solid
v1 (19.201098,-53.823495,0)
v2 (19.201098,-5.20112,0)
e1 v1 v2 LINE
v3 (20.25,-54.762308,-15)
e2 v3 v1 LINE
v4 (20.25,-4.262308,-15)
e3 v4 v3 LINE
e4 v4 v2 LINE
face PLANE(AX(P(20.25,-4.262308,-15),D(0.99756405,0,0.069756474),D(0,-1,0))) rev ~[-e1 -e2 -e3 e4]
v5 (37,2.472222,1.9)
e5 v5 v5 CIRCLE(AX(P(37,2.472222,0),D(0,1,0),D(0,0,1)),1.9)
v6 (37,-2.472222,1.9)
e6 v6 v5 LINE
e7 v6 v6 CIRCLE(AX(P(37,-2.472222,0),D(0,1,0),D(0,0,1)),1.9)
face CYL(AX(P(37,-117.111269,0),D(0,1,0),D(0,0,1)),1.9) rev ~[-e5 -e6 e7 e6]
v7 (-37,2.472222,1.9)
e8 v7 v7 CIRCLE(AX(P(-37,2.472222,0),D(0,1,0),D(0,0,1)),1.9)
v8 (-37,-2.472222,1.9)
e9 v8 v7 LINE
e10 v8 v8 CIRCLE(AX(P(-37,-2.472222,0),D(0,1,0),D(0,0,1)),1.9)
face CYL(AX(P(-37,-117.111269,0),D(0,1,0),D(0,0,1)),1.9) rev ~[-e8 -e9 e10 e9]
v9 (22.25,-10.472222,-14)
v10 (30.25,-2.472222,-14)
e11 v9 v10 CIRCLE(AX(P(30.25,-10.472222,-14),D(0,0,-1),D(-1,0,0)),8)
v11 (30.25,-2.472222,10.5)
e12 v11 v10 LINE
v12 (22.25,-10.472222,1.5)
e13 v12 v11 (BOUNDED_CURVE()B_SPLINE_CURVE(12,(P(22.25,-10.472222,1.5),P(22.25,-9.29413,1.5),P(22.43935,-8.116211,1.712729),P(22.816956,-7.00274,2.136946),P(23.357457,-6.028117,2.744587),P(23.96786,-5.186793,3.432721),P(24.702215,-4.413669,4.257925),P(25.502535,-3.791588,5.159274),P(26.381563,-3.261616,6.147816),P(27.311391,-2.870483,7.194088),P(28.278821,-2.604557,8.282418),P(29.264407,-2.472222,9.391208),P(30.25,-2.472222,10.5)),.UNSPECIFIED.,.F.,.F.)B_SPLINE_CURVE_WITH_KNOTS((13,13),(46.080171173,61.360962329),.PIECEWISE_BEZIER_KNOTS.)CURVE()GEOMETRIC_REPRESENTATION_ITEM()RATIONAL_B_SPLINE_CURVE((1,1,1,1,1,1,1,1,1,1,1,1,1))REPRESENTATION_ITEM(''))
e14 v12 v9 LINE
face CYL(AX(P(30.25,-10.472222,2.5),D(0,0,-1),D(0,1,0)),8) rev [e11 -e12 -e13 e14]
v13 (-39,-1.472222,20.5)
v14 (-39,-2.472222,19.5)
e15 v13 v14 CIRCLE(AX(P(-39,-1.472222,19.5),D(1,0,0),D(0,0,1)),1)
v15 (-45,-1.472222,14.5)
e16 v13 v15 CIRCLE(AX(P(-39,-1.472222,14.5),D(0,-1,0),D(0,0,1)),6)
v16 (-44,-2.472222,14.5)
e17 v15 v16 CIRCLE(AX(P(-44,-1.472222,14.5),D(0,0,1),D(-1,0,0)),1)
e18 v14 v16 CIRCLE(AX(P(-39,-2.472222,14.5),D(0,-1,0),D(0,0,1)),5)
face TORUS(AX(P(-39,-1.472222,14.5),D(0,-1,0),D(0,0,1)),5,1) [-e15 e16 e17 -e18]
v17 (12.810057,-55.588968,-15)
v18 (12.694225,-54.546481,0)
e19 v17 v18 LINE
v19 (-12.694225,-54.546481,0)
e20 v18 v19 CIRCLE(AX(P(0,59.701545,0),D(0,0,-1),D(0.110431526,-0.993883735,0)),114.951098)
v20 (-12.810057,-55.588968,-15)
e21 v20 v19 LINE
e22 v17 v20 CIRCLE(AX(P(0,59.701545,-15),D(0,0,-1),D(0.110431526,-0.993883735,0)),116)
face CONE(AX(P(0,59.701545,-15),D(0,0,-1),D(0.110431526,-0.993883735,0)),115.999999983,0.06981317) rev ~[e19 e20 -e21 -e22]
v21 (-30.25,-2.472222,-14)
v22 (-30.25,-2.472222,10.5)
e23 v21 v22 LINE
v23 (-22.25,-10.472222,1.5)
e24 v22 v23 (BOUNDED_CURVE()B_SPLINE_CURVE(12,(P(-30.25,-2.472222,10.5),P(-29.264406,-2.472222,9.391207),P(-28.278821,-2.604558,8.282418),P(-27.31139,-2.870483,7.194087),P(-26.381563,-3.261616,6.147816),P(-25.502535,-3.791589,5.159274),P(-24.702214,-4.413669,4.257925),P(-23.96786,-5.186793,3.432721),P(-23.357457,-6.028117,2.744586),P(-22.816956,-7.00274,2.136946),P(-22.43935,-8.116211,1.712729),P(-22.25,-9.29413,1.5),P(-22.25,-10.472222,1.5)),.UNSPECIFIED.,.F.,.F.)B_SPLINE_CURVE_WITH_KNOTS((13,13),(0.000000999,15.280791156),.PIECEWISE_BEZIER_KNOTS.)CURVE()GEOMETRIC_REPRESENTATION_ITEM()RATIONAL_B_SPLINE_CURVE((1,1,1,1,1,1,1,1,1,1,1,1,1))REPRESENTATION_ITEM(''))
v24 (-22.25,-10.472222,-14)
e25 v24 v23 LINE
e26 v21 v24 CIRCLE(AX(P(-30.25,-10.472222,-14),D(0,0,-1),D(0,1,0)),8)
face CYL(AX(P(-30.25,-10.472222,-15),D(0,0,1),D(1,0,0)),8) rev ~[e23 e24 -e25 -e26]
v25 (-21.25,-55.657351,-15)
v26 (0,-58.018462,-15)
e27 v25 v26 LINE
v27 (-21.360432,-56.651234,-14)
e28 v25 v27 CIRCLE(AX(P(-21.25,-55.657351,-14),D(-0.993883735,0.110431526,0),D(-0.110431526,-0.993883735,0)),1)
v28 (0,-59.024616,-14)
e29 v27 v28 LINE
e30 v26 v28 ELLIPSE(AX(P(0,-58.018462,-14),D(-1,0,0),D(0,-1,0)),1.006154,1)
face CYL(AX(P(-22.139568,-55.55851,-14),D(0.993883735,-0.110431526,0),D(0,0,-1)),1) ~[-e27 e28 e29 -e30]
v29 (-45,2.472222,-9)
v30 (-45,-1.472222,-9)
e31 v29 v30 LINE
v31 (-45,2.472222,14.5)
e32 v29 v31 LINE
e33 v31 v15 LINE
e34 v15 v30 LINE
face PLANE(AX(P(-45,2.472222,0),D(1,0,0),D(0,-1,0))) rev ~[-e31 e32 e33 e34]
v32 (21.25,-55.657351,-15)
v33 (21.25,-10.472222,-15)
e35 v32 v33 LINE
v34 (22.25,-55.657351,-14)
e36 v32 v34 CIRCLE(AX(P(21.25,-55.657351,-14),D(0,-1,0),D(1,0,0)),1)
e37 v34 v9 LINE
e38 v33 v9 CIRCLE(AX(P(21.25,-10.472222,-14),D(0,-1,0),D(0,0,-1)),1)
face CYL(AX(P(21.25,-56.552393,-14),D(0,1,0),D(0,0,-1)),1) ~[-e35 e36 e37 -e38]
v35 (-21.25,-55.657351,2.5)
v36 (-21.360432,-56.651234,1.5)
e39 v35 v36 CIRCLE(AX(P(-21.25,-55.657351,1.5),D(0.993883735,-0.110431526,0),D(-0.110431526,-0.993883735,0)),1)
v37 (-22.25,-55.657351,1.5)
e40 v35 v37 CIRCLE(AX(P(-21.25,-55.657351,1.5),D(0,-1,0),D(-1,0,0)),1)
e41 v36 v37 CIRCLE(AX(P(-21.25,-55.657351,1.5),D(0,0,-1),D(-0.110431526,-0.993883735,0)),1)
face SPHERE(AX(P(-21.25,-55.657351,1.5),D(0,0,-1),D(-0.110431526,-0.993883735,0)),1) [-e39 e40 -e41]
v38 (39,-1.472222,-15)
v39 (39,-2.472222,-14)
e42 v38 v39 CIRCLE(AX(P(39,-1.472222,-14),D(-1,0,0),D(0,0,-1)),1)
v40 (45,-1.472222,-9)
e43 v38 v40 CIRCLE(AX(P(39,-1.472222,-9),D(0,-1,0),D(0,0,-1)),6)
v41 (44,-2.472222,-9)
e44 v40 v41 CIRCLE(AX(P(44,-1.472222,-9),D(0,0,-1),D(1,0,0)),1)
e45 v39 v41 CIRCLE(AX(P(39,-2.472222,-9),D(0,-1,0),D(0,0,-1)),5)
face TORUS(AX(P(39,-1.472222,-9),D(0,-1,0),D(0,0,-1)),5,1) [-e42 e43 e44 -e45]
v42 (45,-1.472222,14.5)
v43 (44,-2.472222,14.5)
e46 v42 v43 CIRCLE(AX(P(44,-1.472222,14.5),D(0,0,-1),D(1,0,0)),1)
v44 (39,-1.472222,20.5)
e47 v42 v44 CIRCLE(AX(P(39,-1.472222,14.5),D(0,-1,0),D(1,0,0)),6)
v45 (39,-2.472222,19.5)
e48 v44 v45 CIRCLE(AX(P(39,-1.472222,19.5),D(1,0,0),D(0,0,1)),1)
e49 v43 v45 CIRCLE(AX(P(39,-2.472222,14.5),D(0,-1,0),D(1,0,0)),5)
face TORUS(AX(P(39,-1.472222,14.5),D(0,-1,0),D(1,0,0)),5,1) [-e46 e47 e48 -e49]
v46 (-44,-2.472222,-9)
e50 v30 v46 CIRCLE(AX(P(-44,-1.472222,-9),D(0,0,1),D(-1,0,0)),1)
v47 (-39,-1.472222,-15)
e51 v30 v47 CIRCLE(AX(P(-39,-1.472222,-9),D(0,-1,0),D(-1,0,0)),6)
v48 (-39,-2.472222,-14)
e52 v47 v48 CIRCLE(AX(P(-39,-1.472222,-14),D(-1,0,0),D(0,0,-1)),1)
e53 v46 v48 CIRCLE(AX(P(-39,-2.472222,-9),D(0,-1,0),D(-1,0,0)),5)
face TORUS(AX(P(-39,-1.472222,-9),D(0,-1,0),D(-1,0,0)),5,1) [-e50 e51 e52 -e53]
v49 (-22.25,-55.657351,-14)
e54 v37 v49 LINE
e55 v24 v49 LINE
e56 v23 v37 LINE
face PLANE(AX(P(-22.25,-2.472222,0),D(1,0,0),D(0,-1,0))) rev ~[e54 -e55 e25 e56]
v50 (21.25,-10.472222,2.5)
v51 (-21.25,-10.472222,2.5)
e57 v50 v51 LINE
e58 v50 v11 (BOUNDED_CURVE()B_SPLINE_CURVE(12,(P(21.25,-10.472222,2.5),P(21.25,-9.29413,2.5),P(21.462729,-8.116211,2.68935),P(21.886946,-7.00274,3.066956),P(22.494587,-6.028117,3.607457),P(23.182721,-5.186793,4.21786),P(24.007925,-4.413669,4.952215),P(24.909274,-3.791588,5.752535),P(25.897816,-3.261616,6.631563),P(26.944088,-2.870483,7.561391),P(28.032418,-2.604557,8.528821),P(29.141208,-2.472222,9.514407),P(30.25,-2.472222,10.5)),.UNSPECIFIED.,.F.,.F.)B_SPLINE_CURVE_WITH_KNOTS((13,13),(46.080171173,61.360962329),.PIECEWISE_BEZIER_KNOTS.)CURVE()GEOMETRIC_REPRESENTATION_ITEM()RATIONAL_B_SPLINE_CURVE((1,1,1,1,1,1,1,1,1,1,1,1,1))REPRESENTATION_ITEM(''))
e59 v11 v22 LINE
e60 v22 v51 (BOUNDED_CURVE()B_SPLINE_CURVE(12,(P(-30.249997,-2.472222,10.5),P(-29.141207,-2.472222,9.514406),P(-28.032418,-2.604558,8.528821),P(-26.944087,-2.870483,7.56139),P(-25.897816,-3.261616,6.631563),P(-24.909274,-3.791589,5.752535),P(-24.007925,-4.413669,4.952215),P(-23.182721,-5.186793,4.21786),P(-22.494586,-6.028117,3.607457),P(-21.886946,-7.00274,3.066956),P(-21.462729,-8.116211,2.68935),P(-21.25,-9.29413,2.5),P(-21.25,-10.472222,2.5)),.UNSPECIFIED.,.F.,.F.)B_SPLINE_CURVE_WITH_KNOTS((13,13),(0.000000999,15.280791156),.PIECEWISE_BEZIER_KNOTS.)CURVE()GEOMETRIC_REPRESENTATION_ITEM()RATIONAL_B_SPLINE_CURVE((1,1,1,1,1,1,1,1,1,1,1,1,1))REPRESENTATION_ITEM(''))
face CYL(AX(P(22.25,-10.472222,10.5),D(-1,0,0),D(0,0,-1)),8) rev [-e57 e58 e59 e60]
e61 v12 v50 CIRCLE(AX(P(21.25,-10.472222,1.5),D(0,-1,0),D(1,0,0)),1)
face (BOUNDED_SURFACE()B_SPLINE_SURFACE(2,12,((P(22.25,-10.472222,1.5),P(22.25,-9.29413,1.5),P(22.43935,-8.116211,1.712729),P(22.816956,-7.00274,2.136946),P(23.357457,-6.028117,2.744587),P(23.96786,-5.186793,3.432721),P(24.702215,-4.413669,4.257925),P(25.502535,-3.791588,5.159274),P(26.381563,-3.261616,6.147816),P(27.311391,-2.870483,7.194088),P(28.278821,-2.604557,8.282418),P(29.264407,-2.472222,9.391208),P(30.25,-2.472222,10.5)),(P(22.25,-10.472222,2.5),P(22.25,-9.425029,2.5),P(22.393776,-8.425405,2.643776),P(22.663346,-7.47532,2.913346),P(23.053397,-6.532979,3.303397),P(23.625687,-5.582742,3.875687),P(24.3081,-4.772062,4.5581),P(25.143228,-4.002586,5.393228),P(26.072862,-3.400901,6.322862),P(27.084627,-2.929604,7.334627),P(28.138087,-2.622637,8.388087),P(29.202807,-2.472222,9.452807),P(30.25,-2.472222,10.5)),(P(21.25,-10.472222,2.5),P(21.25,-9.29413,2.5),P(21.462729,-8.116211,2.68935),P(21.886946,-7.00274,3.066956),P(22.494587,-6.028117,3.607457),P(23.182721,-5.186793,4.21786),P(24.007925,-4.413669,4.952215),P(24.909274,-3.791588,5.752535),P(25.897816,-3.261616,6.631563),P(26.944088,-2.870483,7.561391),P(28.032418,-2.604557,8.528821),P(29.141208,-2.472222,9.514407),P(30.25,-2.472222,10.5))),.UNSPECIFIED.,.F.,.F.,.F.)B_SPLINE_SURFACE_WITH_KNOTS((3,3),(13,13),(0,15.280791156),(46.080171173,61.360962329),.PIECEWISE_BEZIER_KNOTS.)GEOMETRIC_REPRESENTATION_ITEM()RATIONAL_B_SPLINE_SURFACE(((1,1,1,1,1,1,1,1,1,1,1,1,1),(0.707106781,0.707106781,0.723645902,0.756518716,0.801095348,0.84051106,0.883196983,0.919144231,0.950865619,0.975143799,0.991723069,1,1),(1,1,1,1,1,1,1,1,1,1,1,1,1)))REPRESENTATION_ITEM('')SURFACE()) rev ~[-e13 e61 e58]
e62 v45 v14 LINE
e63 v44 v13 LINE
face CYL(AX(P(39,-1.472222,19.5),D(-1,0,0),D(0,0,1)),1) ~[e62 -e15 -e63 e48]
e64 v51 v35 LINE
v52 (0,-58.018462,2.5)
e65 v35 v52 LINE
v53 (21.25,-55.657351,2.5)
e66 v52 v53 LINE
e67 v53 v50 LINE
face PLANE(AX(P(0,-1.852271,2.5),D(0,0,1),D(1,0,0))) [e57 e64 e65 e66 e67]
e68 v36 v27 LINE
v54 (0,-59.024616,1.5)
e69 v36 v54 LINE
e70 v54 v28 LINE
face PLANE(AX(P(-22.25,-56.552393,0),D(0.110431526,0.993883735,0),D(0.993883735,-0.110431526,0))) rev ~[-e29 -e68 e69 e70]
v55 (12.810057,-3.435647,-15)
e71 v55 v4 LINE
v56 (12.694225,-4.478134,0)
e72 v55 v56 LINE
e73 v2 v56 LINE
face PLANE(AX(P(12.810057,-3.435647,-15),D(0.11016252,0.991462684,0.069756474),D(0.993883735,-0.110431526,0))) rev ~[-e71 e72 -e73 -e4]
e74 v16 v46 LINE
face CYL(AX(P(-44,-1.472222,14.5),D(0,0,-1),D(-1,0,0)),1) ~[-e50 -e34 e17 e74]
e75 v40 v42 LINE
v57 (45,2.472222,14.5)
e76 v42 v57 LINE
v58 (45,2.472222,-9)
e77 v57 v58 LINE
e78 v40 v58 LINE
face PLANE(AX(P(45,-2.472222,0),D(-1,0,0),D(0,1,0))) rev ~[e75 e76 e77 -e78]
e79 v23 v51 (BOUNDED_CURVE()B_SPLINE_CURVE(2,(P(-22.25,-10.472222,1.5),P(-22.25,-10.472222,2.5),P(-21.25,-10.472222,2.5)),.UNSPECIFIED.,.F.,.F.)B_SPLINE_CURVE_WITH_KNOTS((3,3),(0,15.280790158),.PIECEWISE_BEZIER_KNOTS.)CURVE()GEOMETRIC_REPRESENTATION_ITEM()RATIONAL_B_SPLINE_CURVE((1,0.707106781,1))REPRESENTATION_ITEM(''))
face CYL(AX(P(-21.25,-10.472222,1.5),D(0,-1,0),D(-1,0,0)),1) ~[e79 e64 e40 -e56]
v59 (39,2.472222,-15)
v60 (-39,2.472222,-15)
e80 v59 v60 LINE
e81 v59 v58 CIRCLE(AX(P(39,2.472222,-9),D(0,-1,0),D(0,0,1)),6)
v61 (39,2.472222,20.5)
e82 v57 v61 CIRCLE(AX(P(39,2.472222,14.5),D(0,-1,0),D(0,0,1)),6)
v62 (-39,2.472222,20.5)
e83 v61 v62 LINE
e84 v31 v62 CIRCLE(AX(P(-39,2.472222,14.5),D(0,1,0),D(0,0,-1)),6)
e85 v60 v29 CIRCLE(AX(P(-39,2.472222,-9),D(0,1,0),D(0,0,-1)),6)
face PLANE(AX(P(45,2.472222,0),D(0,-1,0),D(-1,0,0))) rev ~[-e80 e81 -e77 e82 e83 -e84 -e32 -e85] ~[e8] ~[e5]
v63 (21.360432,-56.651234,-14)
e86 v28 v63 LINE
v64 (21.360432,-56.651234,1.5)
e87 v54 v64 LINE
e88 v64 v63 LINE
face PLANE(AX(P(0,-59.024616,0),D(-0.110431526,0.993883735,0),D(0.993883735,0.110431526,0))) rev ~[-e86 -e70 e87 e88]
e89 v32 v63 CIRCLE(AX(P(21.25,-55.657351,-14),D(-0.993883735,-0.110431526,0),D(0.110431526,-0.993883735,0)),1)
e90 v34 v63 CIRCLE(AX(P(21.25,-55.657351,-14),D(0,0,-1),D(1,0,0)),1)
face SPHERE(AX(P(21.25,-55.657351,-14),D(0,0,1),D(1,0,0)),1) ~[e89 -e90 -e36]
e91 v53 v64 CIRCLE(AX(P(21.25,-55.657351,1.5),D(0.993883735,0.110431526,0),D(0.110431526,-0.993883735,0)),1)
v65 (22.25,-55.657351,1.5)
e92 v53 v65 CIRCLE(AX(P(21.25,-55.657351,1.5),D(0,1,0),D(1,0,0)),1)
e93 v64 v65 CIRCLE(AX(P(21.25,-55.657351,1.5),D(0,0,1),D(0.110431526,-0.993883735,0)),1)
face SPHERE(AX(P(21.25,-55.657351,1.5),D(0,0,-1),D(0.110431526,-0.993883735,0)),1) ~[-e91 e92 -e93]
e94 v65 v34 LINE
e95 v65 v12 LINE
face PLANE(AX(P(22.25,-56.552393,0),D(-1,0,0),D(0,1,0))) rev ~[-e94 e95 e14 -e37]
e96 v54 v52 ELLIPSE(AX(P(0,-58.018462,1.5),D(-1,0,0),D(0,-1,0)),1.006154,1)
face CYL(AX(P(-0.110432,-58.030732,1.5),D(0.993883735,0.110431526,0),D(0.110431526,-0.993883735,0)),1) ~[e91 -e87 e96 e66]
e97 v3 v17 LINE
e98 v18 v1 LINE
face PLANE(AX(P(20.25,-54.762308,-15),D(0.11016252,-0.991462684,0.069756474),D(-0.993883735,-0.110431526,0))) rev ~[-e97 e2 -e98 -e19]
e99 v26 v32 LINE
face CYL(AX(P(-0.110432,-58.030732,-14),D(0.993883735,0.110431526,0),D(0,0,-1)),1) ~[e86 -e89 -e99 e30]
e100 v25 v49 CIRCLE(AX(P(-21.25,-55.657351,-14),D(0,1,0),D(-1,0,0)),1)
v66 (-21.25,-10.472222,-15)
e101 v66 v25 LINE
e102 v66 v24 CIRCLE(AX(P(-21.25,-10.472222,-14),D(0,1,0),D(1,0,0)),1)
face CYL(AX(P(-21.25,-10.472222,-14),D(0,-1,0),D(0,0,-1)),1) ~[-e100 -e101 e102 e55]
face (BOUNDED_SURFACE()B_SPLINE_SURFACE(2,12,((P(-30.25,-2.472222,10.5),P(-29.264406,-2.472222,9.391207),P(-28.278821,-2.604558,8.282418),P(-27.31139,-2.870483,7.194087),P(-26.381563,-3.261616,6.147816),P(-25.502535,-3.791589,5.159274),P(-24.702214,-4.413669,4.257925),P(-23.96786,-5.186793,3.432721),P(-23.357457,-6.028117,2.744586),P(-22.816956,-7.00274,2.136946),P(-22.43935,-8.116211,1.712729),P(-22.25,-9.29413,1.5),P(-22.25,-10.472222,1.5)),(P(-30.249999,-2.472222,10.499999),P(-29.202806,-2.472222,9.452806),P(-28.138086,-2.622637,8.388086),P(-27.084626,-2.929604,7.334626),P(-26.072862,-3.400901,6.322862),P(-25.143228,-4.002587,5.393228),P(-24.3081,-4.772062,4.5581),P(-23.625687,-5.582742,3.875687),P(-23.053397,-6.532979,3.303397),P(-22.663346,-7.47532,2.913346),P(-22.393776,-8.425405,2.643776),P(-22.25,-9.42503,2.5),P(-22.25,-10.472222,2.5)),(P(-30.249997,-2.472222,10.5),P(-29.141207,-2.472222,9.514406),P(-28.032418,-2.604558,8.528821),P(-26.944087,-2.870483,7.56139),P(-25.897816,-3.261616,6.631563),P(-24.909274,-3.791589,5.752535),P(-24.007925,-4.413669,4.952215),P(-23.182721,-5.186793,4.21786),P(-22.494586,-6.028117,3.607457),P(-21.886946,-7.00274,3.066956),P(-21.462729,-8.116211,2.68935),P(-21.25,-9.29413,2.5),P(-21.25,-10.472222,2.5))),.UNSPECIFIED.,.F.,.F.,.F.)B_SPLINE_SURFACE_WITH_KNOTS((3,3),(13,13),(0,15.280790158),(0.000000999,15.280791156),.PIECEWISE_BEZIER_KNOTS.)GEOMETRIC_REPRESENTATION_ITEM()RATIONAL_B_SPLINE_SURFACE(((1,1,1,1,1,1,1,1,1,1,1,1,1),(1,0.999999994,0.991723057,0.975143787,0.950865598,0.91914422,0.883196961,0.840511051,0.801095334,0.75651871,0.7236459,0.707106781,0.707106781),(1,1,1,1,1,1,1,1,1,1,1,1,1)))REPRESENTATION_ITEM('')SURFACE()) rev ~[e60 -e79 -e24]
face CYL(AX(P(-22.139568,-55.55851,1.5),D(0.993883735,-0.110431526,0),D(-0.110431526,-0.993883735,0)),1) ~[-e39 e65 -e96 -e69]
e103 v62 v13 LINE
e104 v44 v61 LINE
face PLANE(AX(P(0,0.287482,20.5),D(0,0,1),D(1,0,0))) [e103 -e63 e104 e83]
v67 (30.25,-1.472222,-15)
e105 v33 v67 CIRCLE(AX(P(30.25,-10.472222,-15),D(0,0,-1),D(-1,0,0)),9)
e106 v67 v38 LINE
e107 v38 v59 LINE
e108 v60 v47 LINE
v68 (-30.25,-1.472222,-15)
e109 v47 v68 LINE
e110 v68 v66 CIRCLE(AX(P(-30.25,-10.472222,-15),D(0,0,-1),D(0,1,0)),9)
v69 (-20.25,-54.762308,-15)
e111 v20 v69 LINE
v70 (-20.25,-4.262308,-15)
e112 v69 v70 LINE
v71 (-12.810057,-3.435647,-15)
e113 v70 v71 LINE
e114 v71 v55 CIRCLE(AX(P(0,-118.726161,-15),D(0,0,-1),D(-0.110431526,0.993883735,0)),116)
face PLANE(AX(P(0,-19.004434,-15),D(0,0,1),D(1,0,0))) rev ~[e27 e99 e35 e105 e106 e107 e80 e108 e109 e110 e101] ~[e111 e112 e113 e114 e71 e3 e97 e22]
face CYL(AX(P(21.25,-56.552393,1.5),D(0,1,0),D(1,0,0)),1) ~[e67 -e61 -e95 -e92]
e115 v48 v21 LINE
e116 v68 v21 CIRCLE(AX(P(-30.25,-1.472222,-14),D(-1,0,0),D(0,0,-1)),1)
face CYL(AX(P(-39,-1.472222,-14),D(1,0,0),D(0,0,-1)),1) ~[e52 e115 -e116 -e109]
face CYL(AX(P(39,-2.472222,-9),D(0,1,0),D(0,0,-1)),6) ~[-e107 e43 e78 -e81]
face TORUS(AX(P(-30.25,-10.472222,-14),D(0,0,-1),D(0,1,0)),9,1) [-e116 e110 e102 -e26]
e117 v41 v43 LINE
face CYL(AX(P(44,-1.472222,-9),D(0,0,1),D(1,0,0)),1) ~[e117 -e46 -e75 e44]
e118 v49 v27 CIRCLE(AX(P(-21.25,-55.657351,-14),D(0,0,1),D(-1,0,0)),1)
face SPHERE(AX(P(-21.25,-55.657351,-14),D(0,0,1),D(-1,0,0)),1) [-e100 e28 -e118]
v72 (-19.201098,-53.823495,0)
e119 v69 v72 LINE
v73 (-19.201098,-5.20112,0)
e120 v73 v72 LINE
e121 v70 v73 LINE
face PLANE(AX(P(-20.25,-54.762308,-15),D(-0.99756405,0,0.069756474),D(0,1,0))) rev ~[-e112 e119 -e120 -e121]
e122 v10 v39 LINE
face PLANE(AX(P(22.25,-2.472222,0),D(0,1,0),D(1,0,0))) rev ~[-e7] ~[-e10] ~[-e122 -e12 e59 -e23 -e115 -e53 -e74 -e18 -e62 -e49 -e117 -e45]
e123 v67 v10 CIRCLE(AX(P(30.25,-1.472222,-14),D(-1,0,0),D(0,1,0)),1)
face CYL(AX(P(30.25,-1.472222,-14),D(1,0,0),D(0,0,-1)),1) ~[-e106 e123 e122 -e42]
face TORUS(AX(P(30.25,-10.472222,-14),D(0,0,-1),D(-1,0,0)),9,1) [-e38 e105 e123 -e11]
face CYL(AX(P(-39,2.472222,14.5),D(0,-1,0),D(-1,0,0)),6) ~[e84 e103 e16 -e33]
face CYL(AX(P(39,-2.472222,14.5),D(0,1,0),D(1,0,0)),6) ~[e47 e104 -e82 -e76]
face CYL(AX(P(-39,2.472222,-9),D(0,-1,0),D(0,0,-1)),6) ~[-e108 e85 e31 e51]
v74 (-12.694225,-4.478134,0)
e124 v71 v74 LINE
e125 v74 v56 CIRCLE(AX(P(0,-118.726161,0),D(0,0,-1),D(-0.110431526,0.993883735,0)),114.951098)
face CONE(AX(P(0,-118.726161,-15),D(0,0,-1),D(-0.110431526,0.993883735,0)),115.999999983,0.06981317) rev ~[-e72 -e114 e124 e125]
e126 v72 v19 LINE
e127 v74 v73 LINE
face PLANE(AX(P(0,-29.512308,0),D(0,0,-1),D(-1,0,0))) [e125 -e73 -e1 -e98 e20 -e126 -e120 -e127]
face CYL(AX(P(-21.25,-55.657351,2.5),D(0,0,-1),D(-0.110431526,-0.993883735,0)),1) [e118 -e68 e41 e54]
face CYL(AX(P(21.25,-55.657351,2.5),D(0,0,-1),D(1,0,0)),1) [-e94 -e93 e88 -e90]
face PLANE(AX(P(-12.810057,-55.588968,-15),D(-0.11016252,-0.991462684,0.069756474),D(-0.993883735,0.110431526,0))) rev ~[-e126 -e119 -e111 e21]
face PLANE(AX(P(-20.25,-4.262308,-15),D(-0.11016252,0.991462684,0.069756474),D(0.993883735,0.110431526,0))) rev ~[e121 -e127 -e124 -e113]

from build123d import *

# Parameters (mm, degrees)
AUFSATZ_LINEAR_AUSTRAGEN1_DEPTH  = 15
SCHNITT_LINEAR_AUSTRAGEN5_DEPTH  = 20.5
SCHNITT_LINEAR_AUSTRAGEN5_DRAFT  = -4
AUFSATZ_LINEAR_AUSTRAGEN4_DEPTH  = 2.5
SKIZZE1_7_W                      = 90
SKIZZE1_7_H                      = 4.944444444
AUFSATZ_LINEAR_AUSTRAGEN5_DEPTH  = 20.5
VERRUNDUNG1_R                    = 8
VERRUNDUNG2_R                    = 6
VERRUNDUNG3_R                    = 1
F_3_8_3_8_DURCHMESSER_BOHRUNG1_D = 3.8


with BuildPart() as part:
    # Skizze1 → Aufsatz-Linear austragen1 (new body)
    with BuildSketch(Plane.XY):
        Polygon((22.25, -56.552393395), (22.25, -2.472222222), (45, -2.472222222), (45, 2.472222222), (-45, 2.472222222), (-45, -2.472222222), (-22.25, -2.472222222), (-22.25, -56.552393395), (0, -59.024615617), align=None)
    extrude(amount=-AUFSATZ_LINEAR_AUSTRAGEN1_DEPTH)


with BuildPart() as schnitt_linear_austragen5_tool:
    # Skizze4 → Schnitt-Linear austragen5 (with draft: the straight prism first)
    with BuildSketch(Plane(origin=(0, 0, -15), x_dir=(-1, 0, 0), z_dir=(0, 0, -1))):
        with BuildLine():
            ThreePointArc((12.810057025, -3.435647478), (0, -2.7261607), (-12.810057025, -3.435647478))
            Line((-12.810057025, -3.435647478), (-20.25, -4.262307808))
            Line((-20.25, -4.262307808), (-20.25, -54.762307808))
            Line((-20.25, -54.762307808), (-12.810057025, -55.588968139))
            ThreePointArc((-12.810057025, -55.588968139), (0, -56.298454917), (12.810057025, -55.588968139))
            Line((12.810057025, -55.588968139), (20.25, -54.762307808))
            Line((20.25, -54.762307808), (20.25, -4.262307808))
            Line((20.25, -4.262307808), (12.810057025, -3.435647478))
        make_face()
    extrude(amount=-SCHNITT_LINEAR_AUSTRAGEN5_DEPTH)
    # Schnitt-Linear austragen5: the draft: its side faces are tilted about the plane it starts from
    schnitt_linear_austragen5_sides = [schnitt_linear_austragen5_tool.faces().sort_by_distance(p)[0] for p in [
        (0, -2.7261607, -4.75),
        (16.530028512, -3.848977643, -4.75),
        (20.25, -29.512307808, -4.75),
        (16.530028512, -55.175637974, -4.75),
        (0, -56.298454917, -4.75),
        (-16.530028512, -55.175637974, -4.75),
        (-20.25, -29.512307808, -4.75),
        (-16.530028512, -3.848977643, -4.75),
    ]]
    draft(schnitt_linear_austragen5_sides, Plane(origin=(0, 0, -15), x_dir=(-1, 0, 0), z_dir=(0, 0, -1)), SCHNITT_LINEAR_AUSTRAGEN5_DRAFT)


with BuildPart() as part_1:
    add(part.part)

    # Schnitt-Linear austragen5: cut by schnitt_linear_austragen5_tool
    add(schnitt_linear_austragen5_tool.part, mode=Mode.SUBTRACT)

    # Skizze1<6> → Aufsatz-Linear austragen4 (add)
    with BuildSketch(Plane.XY):
        Polygon((22.25, -56.552393395), (22.25, -2.472222222), (45, -2.472222222), (45, 2.472222222), (-45, 2.472222222), (-45, -2.472222222), (-22.25, -2.472222222), (-22.25, -56.552393395), (0, -59.024615617), align=None)
    extrude(amount=AUFSATZ_LINEAR_AUSTRAGEN4_DEPTH)

    # Skizze1<7> → Aufsatz-Linear austragen5 (add)
    with BuildSketch(Plane.XY):
        Rectangle(SKIZZE1_7_W, SKIZZE1_7_H)
    extrude(amount=AUFSATZ_LINEAR_AUSTRAGEN5_DEPTH)

    # Verrundung1
    verrundung1_edges = [part_1.edges().sort_by_distance(p)[0] for p in [
        (22.25, -2.472222222, -6.25),
        (0, -2.472222222, 2.5),
        (-22.25, -2.472222222, -6.25),
    ]]
    fillet(verrundung1_edges, radius=VERRUNDUNG1_R)

    # Verrundung2
    verrundung2_edges = [part_1.edges().sort_by_distance(p)[0] for p in [
        (45, 0, -15),
        (-45, 0, -15),
        (45, 0, 20.5),
        (-45, 0, 20.5),
    ]]
    fillet(verrundung2_edges, radius=VERRUNDUNG2_R)

    # Verrundung3
    verrundung3_edges = [part_1.edges().sort_by_distance(p)[0] for p in [
        (-25.081608741, -4.365854088, 5.331608741),
        (25.081608741, -4.365854088, 5.331608741),
        (-22.25, -33.512307808, -15),
        (-24.593145751, -4.815367973, -15),
        (-34.625, -2.472222222, -15),
        (-43.242640687, -2.472222222, -13.242640687),
        (-45, -2.472222222, 2.75),
        (-43.242640687, -2.472222222, 18.742640687),
        (22.25, -33.512307808, -15),
        (24.593145751, -4.815367973, -15),
        (34.625, -2.472222222, -15),
        (43.242640687, -2.472222222, -13.242640687),
        (45, -2.472222222, 2.75),
        (43.242640687, -2.472222222, 18.742640687),
        (11.125, -57.788504506, 2.5),
        (-11.125, -57.788504506, 2.5),
        (-22.25, -33.512307808, 2.5),
        (22.25, -33.512307808, 2.5),
        (11.125, -57.788504506, -15),
        (-11.125, -57.788504506, -15),
        (0, -2.472222222, 20.5),
        (22.25, -56.552393395, -6.25),
        (-22.25, -56.552393395, -6.25),
    ]]
    fillet(verrundung3_edges, radius=VERRUNDUNG3_R)

    # Ø3.8 (3.8) Durchmesser Bohrung1 (through all)
    with Locations(Plane(origin=(-37, -2.472222222, 0), x_dir=(0, 0, -1), z_dir=(0, -1, 0))):
        with Locations((0, 0), (0, 74)):
            Hole(F_3_8_3_8_DURCHMESSER_BOHRUNG1_D / 2)


solid = part_1.part
